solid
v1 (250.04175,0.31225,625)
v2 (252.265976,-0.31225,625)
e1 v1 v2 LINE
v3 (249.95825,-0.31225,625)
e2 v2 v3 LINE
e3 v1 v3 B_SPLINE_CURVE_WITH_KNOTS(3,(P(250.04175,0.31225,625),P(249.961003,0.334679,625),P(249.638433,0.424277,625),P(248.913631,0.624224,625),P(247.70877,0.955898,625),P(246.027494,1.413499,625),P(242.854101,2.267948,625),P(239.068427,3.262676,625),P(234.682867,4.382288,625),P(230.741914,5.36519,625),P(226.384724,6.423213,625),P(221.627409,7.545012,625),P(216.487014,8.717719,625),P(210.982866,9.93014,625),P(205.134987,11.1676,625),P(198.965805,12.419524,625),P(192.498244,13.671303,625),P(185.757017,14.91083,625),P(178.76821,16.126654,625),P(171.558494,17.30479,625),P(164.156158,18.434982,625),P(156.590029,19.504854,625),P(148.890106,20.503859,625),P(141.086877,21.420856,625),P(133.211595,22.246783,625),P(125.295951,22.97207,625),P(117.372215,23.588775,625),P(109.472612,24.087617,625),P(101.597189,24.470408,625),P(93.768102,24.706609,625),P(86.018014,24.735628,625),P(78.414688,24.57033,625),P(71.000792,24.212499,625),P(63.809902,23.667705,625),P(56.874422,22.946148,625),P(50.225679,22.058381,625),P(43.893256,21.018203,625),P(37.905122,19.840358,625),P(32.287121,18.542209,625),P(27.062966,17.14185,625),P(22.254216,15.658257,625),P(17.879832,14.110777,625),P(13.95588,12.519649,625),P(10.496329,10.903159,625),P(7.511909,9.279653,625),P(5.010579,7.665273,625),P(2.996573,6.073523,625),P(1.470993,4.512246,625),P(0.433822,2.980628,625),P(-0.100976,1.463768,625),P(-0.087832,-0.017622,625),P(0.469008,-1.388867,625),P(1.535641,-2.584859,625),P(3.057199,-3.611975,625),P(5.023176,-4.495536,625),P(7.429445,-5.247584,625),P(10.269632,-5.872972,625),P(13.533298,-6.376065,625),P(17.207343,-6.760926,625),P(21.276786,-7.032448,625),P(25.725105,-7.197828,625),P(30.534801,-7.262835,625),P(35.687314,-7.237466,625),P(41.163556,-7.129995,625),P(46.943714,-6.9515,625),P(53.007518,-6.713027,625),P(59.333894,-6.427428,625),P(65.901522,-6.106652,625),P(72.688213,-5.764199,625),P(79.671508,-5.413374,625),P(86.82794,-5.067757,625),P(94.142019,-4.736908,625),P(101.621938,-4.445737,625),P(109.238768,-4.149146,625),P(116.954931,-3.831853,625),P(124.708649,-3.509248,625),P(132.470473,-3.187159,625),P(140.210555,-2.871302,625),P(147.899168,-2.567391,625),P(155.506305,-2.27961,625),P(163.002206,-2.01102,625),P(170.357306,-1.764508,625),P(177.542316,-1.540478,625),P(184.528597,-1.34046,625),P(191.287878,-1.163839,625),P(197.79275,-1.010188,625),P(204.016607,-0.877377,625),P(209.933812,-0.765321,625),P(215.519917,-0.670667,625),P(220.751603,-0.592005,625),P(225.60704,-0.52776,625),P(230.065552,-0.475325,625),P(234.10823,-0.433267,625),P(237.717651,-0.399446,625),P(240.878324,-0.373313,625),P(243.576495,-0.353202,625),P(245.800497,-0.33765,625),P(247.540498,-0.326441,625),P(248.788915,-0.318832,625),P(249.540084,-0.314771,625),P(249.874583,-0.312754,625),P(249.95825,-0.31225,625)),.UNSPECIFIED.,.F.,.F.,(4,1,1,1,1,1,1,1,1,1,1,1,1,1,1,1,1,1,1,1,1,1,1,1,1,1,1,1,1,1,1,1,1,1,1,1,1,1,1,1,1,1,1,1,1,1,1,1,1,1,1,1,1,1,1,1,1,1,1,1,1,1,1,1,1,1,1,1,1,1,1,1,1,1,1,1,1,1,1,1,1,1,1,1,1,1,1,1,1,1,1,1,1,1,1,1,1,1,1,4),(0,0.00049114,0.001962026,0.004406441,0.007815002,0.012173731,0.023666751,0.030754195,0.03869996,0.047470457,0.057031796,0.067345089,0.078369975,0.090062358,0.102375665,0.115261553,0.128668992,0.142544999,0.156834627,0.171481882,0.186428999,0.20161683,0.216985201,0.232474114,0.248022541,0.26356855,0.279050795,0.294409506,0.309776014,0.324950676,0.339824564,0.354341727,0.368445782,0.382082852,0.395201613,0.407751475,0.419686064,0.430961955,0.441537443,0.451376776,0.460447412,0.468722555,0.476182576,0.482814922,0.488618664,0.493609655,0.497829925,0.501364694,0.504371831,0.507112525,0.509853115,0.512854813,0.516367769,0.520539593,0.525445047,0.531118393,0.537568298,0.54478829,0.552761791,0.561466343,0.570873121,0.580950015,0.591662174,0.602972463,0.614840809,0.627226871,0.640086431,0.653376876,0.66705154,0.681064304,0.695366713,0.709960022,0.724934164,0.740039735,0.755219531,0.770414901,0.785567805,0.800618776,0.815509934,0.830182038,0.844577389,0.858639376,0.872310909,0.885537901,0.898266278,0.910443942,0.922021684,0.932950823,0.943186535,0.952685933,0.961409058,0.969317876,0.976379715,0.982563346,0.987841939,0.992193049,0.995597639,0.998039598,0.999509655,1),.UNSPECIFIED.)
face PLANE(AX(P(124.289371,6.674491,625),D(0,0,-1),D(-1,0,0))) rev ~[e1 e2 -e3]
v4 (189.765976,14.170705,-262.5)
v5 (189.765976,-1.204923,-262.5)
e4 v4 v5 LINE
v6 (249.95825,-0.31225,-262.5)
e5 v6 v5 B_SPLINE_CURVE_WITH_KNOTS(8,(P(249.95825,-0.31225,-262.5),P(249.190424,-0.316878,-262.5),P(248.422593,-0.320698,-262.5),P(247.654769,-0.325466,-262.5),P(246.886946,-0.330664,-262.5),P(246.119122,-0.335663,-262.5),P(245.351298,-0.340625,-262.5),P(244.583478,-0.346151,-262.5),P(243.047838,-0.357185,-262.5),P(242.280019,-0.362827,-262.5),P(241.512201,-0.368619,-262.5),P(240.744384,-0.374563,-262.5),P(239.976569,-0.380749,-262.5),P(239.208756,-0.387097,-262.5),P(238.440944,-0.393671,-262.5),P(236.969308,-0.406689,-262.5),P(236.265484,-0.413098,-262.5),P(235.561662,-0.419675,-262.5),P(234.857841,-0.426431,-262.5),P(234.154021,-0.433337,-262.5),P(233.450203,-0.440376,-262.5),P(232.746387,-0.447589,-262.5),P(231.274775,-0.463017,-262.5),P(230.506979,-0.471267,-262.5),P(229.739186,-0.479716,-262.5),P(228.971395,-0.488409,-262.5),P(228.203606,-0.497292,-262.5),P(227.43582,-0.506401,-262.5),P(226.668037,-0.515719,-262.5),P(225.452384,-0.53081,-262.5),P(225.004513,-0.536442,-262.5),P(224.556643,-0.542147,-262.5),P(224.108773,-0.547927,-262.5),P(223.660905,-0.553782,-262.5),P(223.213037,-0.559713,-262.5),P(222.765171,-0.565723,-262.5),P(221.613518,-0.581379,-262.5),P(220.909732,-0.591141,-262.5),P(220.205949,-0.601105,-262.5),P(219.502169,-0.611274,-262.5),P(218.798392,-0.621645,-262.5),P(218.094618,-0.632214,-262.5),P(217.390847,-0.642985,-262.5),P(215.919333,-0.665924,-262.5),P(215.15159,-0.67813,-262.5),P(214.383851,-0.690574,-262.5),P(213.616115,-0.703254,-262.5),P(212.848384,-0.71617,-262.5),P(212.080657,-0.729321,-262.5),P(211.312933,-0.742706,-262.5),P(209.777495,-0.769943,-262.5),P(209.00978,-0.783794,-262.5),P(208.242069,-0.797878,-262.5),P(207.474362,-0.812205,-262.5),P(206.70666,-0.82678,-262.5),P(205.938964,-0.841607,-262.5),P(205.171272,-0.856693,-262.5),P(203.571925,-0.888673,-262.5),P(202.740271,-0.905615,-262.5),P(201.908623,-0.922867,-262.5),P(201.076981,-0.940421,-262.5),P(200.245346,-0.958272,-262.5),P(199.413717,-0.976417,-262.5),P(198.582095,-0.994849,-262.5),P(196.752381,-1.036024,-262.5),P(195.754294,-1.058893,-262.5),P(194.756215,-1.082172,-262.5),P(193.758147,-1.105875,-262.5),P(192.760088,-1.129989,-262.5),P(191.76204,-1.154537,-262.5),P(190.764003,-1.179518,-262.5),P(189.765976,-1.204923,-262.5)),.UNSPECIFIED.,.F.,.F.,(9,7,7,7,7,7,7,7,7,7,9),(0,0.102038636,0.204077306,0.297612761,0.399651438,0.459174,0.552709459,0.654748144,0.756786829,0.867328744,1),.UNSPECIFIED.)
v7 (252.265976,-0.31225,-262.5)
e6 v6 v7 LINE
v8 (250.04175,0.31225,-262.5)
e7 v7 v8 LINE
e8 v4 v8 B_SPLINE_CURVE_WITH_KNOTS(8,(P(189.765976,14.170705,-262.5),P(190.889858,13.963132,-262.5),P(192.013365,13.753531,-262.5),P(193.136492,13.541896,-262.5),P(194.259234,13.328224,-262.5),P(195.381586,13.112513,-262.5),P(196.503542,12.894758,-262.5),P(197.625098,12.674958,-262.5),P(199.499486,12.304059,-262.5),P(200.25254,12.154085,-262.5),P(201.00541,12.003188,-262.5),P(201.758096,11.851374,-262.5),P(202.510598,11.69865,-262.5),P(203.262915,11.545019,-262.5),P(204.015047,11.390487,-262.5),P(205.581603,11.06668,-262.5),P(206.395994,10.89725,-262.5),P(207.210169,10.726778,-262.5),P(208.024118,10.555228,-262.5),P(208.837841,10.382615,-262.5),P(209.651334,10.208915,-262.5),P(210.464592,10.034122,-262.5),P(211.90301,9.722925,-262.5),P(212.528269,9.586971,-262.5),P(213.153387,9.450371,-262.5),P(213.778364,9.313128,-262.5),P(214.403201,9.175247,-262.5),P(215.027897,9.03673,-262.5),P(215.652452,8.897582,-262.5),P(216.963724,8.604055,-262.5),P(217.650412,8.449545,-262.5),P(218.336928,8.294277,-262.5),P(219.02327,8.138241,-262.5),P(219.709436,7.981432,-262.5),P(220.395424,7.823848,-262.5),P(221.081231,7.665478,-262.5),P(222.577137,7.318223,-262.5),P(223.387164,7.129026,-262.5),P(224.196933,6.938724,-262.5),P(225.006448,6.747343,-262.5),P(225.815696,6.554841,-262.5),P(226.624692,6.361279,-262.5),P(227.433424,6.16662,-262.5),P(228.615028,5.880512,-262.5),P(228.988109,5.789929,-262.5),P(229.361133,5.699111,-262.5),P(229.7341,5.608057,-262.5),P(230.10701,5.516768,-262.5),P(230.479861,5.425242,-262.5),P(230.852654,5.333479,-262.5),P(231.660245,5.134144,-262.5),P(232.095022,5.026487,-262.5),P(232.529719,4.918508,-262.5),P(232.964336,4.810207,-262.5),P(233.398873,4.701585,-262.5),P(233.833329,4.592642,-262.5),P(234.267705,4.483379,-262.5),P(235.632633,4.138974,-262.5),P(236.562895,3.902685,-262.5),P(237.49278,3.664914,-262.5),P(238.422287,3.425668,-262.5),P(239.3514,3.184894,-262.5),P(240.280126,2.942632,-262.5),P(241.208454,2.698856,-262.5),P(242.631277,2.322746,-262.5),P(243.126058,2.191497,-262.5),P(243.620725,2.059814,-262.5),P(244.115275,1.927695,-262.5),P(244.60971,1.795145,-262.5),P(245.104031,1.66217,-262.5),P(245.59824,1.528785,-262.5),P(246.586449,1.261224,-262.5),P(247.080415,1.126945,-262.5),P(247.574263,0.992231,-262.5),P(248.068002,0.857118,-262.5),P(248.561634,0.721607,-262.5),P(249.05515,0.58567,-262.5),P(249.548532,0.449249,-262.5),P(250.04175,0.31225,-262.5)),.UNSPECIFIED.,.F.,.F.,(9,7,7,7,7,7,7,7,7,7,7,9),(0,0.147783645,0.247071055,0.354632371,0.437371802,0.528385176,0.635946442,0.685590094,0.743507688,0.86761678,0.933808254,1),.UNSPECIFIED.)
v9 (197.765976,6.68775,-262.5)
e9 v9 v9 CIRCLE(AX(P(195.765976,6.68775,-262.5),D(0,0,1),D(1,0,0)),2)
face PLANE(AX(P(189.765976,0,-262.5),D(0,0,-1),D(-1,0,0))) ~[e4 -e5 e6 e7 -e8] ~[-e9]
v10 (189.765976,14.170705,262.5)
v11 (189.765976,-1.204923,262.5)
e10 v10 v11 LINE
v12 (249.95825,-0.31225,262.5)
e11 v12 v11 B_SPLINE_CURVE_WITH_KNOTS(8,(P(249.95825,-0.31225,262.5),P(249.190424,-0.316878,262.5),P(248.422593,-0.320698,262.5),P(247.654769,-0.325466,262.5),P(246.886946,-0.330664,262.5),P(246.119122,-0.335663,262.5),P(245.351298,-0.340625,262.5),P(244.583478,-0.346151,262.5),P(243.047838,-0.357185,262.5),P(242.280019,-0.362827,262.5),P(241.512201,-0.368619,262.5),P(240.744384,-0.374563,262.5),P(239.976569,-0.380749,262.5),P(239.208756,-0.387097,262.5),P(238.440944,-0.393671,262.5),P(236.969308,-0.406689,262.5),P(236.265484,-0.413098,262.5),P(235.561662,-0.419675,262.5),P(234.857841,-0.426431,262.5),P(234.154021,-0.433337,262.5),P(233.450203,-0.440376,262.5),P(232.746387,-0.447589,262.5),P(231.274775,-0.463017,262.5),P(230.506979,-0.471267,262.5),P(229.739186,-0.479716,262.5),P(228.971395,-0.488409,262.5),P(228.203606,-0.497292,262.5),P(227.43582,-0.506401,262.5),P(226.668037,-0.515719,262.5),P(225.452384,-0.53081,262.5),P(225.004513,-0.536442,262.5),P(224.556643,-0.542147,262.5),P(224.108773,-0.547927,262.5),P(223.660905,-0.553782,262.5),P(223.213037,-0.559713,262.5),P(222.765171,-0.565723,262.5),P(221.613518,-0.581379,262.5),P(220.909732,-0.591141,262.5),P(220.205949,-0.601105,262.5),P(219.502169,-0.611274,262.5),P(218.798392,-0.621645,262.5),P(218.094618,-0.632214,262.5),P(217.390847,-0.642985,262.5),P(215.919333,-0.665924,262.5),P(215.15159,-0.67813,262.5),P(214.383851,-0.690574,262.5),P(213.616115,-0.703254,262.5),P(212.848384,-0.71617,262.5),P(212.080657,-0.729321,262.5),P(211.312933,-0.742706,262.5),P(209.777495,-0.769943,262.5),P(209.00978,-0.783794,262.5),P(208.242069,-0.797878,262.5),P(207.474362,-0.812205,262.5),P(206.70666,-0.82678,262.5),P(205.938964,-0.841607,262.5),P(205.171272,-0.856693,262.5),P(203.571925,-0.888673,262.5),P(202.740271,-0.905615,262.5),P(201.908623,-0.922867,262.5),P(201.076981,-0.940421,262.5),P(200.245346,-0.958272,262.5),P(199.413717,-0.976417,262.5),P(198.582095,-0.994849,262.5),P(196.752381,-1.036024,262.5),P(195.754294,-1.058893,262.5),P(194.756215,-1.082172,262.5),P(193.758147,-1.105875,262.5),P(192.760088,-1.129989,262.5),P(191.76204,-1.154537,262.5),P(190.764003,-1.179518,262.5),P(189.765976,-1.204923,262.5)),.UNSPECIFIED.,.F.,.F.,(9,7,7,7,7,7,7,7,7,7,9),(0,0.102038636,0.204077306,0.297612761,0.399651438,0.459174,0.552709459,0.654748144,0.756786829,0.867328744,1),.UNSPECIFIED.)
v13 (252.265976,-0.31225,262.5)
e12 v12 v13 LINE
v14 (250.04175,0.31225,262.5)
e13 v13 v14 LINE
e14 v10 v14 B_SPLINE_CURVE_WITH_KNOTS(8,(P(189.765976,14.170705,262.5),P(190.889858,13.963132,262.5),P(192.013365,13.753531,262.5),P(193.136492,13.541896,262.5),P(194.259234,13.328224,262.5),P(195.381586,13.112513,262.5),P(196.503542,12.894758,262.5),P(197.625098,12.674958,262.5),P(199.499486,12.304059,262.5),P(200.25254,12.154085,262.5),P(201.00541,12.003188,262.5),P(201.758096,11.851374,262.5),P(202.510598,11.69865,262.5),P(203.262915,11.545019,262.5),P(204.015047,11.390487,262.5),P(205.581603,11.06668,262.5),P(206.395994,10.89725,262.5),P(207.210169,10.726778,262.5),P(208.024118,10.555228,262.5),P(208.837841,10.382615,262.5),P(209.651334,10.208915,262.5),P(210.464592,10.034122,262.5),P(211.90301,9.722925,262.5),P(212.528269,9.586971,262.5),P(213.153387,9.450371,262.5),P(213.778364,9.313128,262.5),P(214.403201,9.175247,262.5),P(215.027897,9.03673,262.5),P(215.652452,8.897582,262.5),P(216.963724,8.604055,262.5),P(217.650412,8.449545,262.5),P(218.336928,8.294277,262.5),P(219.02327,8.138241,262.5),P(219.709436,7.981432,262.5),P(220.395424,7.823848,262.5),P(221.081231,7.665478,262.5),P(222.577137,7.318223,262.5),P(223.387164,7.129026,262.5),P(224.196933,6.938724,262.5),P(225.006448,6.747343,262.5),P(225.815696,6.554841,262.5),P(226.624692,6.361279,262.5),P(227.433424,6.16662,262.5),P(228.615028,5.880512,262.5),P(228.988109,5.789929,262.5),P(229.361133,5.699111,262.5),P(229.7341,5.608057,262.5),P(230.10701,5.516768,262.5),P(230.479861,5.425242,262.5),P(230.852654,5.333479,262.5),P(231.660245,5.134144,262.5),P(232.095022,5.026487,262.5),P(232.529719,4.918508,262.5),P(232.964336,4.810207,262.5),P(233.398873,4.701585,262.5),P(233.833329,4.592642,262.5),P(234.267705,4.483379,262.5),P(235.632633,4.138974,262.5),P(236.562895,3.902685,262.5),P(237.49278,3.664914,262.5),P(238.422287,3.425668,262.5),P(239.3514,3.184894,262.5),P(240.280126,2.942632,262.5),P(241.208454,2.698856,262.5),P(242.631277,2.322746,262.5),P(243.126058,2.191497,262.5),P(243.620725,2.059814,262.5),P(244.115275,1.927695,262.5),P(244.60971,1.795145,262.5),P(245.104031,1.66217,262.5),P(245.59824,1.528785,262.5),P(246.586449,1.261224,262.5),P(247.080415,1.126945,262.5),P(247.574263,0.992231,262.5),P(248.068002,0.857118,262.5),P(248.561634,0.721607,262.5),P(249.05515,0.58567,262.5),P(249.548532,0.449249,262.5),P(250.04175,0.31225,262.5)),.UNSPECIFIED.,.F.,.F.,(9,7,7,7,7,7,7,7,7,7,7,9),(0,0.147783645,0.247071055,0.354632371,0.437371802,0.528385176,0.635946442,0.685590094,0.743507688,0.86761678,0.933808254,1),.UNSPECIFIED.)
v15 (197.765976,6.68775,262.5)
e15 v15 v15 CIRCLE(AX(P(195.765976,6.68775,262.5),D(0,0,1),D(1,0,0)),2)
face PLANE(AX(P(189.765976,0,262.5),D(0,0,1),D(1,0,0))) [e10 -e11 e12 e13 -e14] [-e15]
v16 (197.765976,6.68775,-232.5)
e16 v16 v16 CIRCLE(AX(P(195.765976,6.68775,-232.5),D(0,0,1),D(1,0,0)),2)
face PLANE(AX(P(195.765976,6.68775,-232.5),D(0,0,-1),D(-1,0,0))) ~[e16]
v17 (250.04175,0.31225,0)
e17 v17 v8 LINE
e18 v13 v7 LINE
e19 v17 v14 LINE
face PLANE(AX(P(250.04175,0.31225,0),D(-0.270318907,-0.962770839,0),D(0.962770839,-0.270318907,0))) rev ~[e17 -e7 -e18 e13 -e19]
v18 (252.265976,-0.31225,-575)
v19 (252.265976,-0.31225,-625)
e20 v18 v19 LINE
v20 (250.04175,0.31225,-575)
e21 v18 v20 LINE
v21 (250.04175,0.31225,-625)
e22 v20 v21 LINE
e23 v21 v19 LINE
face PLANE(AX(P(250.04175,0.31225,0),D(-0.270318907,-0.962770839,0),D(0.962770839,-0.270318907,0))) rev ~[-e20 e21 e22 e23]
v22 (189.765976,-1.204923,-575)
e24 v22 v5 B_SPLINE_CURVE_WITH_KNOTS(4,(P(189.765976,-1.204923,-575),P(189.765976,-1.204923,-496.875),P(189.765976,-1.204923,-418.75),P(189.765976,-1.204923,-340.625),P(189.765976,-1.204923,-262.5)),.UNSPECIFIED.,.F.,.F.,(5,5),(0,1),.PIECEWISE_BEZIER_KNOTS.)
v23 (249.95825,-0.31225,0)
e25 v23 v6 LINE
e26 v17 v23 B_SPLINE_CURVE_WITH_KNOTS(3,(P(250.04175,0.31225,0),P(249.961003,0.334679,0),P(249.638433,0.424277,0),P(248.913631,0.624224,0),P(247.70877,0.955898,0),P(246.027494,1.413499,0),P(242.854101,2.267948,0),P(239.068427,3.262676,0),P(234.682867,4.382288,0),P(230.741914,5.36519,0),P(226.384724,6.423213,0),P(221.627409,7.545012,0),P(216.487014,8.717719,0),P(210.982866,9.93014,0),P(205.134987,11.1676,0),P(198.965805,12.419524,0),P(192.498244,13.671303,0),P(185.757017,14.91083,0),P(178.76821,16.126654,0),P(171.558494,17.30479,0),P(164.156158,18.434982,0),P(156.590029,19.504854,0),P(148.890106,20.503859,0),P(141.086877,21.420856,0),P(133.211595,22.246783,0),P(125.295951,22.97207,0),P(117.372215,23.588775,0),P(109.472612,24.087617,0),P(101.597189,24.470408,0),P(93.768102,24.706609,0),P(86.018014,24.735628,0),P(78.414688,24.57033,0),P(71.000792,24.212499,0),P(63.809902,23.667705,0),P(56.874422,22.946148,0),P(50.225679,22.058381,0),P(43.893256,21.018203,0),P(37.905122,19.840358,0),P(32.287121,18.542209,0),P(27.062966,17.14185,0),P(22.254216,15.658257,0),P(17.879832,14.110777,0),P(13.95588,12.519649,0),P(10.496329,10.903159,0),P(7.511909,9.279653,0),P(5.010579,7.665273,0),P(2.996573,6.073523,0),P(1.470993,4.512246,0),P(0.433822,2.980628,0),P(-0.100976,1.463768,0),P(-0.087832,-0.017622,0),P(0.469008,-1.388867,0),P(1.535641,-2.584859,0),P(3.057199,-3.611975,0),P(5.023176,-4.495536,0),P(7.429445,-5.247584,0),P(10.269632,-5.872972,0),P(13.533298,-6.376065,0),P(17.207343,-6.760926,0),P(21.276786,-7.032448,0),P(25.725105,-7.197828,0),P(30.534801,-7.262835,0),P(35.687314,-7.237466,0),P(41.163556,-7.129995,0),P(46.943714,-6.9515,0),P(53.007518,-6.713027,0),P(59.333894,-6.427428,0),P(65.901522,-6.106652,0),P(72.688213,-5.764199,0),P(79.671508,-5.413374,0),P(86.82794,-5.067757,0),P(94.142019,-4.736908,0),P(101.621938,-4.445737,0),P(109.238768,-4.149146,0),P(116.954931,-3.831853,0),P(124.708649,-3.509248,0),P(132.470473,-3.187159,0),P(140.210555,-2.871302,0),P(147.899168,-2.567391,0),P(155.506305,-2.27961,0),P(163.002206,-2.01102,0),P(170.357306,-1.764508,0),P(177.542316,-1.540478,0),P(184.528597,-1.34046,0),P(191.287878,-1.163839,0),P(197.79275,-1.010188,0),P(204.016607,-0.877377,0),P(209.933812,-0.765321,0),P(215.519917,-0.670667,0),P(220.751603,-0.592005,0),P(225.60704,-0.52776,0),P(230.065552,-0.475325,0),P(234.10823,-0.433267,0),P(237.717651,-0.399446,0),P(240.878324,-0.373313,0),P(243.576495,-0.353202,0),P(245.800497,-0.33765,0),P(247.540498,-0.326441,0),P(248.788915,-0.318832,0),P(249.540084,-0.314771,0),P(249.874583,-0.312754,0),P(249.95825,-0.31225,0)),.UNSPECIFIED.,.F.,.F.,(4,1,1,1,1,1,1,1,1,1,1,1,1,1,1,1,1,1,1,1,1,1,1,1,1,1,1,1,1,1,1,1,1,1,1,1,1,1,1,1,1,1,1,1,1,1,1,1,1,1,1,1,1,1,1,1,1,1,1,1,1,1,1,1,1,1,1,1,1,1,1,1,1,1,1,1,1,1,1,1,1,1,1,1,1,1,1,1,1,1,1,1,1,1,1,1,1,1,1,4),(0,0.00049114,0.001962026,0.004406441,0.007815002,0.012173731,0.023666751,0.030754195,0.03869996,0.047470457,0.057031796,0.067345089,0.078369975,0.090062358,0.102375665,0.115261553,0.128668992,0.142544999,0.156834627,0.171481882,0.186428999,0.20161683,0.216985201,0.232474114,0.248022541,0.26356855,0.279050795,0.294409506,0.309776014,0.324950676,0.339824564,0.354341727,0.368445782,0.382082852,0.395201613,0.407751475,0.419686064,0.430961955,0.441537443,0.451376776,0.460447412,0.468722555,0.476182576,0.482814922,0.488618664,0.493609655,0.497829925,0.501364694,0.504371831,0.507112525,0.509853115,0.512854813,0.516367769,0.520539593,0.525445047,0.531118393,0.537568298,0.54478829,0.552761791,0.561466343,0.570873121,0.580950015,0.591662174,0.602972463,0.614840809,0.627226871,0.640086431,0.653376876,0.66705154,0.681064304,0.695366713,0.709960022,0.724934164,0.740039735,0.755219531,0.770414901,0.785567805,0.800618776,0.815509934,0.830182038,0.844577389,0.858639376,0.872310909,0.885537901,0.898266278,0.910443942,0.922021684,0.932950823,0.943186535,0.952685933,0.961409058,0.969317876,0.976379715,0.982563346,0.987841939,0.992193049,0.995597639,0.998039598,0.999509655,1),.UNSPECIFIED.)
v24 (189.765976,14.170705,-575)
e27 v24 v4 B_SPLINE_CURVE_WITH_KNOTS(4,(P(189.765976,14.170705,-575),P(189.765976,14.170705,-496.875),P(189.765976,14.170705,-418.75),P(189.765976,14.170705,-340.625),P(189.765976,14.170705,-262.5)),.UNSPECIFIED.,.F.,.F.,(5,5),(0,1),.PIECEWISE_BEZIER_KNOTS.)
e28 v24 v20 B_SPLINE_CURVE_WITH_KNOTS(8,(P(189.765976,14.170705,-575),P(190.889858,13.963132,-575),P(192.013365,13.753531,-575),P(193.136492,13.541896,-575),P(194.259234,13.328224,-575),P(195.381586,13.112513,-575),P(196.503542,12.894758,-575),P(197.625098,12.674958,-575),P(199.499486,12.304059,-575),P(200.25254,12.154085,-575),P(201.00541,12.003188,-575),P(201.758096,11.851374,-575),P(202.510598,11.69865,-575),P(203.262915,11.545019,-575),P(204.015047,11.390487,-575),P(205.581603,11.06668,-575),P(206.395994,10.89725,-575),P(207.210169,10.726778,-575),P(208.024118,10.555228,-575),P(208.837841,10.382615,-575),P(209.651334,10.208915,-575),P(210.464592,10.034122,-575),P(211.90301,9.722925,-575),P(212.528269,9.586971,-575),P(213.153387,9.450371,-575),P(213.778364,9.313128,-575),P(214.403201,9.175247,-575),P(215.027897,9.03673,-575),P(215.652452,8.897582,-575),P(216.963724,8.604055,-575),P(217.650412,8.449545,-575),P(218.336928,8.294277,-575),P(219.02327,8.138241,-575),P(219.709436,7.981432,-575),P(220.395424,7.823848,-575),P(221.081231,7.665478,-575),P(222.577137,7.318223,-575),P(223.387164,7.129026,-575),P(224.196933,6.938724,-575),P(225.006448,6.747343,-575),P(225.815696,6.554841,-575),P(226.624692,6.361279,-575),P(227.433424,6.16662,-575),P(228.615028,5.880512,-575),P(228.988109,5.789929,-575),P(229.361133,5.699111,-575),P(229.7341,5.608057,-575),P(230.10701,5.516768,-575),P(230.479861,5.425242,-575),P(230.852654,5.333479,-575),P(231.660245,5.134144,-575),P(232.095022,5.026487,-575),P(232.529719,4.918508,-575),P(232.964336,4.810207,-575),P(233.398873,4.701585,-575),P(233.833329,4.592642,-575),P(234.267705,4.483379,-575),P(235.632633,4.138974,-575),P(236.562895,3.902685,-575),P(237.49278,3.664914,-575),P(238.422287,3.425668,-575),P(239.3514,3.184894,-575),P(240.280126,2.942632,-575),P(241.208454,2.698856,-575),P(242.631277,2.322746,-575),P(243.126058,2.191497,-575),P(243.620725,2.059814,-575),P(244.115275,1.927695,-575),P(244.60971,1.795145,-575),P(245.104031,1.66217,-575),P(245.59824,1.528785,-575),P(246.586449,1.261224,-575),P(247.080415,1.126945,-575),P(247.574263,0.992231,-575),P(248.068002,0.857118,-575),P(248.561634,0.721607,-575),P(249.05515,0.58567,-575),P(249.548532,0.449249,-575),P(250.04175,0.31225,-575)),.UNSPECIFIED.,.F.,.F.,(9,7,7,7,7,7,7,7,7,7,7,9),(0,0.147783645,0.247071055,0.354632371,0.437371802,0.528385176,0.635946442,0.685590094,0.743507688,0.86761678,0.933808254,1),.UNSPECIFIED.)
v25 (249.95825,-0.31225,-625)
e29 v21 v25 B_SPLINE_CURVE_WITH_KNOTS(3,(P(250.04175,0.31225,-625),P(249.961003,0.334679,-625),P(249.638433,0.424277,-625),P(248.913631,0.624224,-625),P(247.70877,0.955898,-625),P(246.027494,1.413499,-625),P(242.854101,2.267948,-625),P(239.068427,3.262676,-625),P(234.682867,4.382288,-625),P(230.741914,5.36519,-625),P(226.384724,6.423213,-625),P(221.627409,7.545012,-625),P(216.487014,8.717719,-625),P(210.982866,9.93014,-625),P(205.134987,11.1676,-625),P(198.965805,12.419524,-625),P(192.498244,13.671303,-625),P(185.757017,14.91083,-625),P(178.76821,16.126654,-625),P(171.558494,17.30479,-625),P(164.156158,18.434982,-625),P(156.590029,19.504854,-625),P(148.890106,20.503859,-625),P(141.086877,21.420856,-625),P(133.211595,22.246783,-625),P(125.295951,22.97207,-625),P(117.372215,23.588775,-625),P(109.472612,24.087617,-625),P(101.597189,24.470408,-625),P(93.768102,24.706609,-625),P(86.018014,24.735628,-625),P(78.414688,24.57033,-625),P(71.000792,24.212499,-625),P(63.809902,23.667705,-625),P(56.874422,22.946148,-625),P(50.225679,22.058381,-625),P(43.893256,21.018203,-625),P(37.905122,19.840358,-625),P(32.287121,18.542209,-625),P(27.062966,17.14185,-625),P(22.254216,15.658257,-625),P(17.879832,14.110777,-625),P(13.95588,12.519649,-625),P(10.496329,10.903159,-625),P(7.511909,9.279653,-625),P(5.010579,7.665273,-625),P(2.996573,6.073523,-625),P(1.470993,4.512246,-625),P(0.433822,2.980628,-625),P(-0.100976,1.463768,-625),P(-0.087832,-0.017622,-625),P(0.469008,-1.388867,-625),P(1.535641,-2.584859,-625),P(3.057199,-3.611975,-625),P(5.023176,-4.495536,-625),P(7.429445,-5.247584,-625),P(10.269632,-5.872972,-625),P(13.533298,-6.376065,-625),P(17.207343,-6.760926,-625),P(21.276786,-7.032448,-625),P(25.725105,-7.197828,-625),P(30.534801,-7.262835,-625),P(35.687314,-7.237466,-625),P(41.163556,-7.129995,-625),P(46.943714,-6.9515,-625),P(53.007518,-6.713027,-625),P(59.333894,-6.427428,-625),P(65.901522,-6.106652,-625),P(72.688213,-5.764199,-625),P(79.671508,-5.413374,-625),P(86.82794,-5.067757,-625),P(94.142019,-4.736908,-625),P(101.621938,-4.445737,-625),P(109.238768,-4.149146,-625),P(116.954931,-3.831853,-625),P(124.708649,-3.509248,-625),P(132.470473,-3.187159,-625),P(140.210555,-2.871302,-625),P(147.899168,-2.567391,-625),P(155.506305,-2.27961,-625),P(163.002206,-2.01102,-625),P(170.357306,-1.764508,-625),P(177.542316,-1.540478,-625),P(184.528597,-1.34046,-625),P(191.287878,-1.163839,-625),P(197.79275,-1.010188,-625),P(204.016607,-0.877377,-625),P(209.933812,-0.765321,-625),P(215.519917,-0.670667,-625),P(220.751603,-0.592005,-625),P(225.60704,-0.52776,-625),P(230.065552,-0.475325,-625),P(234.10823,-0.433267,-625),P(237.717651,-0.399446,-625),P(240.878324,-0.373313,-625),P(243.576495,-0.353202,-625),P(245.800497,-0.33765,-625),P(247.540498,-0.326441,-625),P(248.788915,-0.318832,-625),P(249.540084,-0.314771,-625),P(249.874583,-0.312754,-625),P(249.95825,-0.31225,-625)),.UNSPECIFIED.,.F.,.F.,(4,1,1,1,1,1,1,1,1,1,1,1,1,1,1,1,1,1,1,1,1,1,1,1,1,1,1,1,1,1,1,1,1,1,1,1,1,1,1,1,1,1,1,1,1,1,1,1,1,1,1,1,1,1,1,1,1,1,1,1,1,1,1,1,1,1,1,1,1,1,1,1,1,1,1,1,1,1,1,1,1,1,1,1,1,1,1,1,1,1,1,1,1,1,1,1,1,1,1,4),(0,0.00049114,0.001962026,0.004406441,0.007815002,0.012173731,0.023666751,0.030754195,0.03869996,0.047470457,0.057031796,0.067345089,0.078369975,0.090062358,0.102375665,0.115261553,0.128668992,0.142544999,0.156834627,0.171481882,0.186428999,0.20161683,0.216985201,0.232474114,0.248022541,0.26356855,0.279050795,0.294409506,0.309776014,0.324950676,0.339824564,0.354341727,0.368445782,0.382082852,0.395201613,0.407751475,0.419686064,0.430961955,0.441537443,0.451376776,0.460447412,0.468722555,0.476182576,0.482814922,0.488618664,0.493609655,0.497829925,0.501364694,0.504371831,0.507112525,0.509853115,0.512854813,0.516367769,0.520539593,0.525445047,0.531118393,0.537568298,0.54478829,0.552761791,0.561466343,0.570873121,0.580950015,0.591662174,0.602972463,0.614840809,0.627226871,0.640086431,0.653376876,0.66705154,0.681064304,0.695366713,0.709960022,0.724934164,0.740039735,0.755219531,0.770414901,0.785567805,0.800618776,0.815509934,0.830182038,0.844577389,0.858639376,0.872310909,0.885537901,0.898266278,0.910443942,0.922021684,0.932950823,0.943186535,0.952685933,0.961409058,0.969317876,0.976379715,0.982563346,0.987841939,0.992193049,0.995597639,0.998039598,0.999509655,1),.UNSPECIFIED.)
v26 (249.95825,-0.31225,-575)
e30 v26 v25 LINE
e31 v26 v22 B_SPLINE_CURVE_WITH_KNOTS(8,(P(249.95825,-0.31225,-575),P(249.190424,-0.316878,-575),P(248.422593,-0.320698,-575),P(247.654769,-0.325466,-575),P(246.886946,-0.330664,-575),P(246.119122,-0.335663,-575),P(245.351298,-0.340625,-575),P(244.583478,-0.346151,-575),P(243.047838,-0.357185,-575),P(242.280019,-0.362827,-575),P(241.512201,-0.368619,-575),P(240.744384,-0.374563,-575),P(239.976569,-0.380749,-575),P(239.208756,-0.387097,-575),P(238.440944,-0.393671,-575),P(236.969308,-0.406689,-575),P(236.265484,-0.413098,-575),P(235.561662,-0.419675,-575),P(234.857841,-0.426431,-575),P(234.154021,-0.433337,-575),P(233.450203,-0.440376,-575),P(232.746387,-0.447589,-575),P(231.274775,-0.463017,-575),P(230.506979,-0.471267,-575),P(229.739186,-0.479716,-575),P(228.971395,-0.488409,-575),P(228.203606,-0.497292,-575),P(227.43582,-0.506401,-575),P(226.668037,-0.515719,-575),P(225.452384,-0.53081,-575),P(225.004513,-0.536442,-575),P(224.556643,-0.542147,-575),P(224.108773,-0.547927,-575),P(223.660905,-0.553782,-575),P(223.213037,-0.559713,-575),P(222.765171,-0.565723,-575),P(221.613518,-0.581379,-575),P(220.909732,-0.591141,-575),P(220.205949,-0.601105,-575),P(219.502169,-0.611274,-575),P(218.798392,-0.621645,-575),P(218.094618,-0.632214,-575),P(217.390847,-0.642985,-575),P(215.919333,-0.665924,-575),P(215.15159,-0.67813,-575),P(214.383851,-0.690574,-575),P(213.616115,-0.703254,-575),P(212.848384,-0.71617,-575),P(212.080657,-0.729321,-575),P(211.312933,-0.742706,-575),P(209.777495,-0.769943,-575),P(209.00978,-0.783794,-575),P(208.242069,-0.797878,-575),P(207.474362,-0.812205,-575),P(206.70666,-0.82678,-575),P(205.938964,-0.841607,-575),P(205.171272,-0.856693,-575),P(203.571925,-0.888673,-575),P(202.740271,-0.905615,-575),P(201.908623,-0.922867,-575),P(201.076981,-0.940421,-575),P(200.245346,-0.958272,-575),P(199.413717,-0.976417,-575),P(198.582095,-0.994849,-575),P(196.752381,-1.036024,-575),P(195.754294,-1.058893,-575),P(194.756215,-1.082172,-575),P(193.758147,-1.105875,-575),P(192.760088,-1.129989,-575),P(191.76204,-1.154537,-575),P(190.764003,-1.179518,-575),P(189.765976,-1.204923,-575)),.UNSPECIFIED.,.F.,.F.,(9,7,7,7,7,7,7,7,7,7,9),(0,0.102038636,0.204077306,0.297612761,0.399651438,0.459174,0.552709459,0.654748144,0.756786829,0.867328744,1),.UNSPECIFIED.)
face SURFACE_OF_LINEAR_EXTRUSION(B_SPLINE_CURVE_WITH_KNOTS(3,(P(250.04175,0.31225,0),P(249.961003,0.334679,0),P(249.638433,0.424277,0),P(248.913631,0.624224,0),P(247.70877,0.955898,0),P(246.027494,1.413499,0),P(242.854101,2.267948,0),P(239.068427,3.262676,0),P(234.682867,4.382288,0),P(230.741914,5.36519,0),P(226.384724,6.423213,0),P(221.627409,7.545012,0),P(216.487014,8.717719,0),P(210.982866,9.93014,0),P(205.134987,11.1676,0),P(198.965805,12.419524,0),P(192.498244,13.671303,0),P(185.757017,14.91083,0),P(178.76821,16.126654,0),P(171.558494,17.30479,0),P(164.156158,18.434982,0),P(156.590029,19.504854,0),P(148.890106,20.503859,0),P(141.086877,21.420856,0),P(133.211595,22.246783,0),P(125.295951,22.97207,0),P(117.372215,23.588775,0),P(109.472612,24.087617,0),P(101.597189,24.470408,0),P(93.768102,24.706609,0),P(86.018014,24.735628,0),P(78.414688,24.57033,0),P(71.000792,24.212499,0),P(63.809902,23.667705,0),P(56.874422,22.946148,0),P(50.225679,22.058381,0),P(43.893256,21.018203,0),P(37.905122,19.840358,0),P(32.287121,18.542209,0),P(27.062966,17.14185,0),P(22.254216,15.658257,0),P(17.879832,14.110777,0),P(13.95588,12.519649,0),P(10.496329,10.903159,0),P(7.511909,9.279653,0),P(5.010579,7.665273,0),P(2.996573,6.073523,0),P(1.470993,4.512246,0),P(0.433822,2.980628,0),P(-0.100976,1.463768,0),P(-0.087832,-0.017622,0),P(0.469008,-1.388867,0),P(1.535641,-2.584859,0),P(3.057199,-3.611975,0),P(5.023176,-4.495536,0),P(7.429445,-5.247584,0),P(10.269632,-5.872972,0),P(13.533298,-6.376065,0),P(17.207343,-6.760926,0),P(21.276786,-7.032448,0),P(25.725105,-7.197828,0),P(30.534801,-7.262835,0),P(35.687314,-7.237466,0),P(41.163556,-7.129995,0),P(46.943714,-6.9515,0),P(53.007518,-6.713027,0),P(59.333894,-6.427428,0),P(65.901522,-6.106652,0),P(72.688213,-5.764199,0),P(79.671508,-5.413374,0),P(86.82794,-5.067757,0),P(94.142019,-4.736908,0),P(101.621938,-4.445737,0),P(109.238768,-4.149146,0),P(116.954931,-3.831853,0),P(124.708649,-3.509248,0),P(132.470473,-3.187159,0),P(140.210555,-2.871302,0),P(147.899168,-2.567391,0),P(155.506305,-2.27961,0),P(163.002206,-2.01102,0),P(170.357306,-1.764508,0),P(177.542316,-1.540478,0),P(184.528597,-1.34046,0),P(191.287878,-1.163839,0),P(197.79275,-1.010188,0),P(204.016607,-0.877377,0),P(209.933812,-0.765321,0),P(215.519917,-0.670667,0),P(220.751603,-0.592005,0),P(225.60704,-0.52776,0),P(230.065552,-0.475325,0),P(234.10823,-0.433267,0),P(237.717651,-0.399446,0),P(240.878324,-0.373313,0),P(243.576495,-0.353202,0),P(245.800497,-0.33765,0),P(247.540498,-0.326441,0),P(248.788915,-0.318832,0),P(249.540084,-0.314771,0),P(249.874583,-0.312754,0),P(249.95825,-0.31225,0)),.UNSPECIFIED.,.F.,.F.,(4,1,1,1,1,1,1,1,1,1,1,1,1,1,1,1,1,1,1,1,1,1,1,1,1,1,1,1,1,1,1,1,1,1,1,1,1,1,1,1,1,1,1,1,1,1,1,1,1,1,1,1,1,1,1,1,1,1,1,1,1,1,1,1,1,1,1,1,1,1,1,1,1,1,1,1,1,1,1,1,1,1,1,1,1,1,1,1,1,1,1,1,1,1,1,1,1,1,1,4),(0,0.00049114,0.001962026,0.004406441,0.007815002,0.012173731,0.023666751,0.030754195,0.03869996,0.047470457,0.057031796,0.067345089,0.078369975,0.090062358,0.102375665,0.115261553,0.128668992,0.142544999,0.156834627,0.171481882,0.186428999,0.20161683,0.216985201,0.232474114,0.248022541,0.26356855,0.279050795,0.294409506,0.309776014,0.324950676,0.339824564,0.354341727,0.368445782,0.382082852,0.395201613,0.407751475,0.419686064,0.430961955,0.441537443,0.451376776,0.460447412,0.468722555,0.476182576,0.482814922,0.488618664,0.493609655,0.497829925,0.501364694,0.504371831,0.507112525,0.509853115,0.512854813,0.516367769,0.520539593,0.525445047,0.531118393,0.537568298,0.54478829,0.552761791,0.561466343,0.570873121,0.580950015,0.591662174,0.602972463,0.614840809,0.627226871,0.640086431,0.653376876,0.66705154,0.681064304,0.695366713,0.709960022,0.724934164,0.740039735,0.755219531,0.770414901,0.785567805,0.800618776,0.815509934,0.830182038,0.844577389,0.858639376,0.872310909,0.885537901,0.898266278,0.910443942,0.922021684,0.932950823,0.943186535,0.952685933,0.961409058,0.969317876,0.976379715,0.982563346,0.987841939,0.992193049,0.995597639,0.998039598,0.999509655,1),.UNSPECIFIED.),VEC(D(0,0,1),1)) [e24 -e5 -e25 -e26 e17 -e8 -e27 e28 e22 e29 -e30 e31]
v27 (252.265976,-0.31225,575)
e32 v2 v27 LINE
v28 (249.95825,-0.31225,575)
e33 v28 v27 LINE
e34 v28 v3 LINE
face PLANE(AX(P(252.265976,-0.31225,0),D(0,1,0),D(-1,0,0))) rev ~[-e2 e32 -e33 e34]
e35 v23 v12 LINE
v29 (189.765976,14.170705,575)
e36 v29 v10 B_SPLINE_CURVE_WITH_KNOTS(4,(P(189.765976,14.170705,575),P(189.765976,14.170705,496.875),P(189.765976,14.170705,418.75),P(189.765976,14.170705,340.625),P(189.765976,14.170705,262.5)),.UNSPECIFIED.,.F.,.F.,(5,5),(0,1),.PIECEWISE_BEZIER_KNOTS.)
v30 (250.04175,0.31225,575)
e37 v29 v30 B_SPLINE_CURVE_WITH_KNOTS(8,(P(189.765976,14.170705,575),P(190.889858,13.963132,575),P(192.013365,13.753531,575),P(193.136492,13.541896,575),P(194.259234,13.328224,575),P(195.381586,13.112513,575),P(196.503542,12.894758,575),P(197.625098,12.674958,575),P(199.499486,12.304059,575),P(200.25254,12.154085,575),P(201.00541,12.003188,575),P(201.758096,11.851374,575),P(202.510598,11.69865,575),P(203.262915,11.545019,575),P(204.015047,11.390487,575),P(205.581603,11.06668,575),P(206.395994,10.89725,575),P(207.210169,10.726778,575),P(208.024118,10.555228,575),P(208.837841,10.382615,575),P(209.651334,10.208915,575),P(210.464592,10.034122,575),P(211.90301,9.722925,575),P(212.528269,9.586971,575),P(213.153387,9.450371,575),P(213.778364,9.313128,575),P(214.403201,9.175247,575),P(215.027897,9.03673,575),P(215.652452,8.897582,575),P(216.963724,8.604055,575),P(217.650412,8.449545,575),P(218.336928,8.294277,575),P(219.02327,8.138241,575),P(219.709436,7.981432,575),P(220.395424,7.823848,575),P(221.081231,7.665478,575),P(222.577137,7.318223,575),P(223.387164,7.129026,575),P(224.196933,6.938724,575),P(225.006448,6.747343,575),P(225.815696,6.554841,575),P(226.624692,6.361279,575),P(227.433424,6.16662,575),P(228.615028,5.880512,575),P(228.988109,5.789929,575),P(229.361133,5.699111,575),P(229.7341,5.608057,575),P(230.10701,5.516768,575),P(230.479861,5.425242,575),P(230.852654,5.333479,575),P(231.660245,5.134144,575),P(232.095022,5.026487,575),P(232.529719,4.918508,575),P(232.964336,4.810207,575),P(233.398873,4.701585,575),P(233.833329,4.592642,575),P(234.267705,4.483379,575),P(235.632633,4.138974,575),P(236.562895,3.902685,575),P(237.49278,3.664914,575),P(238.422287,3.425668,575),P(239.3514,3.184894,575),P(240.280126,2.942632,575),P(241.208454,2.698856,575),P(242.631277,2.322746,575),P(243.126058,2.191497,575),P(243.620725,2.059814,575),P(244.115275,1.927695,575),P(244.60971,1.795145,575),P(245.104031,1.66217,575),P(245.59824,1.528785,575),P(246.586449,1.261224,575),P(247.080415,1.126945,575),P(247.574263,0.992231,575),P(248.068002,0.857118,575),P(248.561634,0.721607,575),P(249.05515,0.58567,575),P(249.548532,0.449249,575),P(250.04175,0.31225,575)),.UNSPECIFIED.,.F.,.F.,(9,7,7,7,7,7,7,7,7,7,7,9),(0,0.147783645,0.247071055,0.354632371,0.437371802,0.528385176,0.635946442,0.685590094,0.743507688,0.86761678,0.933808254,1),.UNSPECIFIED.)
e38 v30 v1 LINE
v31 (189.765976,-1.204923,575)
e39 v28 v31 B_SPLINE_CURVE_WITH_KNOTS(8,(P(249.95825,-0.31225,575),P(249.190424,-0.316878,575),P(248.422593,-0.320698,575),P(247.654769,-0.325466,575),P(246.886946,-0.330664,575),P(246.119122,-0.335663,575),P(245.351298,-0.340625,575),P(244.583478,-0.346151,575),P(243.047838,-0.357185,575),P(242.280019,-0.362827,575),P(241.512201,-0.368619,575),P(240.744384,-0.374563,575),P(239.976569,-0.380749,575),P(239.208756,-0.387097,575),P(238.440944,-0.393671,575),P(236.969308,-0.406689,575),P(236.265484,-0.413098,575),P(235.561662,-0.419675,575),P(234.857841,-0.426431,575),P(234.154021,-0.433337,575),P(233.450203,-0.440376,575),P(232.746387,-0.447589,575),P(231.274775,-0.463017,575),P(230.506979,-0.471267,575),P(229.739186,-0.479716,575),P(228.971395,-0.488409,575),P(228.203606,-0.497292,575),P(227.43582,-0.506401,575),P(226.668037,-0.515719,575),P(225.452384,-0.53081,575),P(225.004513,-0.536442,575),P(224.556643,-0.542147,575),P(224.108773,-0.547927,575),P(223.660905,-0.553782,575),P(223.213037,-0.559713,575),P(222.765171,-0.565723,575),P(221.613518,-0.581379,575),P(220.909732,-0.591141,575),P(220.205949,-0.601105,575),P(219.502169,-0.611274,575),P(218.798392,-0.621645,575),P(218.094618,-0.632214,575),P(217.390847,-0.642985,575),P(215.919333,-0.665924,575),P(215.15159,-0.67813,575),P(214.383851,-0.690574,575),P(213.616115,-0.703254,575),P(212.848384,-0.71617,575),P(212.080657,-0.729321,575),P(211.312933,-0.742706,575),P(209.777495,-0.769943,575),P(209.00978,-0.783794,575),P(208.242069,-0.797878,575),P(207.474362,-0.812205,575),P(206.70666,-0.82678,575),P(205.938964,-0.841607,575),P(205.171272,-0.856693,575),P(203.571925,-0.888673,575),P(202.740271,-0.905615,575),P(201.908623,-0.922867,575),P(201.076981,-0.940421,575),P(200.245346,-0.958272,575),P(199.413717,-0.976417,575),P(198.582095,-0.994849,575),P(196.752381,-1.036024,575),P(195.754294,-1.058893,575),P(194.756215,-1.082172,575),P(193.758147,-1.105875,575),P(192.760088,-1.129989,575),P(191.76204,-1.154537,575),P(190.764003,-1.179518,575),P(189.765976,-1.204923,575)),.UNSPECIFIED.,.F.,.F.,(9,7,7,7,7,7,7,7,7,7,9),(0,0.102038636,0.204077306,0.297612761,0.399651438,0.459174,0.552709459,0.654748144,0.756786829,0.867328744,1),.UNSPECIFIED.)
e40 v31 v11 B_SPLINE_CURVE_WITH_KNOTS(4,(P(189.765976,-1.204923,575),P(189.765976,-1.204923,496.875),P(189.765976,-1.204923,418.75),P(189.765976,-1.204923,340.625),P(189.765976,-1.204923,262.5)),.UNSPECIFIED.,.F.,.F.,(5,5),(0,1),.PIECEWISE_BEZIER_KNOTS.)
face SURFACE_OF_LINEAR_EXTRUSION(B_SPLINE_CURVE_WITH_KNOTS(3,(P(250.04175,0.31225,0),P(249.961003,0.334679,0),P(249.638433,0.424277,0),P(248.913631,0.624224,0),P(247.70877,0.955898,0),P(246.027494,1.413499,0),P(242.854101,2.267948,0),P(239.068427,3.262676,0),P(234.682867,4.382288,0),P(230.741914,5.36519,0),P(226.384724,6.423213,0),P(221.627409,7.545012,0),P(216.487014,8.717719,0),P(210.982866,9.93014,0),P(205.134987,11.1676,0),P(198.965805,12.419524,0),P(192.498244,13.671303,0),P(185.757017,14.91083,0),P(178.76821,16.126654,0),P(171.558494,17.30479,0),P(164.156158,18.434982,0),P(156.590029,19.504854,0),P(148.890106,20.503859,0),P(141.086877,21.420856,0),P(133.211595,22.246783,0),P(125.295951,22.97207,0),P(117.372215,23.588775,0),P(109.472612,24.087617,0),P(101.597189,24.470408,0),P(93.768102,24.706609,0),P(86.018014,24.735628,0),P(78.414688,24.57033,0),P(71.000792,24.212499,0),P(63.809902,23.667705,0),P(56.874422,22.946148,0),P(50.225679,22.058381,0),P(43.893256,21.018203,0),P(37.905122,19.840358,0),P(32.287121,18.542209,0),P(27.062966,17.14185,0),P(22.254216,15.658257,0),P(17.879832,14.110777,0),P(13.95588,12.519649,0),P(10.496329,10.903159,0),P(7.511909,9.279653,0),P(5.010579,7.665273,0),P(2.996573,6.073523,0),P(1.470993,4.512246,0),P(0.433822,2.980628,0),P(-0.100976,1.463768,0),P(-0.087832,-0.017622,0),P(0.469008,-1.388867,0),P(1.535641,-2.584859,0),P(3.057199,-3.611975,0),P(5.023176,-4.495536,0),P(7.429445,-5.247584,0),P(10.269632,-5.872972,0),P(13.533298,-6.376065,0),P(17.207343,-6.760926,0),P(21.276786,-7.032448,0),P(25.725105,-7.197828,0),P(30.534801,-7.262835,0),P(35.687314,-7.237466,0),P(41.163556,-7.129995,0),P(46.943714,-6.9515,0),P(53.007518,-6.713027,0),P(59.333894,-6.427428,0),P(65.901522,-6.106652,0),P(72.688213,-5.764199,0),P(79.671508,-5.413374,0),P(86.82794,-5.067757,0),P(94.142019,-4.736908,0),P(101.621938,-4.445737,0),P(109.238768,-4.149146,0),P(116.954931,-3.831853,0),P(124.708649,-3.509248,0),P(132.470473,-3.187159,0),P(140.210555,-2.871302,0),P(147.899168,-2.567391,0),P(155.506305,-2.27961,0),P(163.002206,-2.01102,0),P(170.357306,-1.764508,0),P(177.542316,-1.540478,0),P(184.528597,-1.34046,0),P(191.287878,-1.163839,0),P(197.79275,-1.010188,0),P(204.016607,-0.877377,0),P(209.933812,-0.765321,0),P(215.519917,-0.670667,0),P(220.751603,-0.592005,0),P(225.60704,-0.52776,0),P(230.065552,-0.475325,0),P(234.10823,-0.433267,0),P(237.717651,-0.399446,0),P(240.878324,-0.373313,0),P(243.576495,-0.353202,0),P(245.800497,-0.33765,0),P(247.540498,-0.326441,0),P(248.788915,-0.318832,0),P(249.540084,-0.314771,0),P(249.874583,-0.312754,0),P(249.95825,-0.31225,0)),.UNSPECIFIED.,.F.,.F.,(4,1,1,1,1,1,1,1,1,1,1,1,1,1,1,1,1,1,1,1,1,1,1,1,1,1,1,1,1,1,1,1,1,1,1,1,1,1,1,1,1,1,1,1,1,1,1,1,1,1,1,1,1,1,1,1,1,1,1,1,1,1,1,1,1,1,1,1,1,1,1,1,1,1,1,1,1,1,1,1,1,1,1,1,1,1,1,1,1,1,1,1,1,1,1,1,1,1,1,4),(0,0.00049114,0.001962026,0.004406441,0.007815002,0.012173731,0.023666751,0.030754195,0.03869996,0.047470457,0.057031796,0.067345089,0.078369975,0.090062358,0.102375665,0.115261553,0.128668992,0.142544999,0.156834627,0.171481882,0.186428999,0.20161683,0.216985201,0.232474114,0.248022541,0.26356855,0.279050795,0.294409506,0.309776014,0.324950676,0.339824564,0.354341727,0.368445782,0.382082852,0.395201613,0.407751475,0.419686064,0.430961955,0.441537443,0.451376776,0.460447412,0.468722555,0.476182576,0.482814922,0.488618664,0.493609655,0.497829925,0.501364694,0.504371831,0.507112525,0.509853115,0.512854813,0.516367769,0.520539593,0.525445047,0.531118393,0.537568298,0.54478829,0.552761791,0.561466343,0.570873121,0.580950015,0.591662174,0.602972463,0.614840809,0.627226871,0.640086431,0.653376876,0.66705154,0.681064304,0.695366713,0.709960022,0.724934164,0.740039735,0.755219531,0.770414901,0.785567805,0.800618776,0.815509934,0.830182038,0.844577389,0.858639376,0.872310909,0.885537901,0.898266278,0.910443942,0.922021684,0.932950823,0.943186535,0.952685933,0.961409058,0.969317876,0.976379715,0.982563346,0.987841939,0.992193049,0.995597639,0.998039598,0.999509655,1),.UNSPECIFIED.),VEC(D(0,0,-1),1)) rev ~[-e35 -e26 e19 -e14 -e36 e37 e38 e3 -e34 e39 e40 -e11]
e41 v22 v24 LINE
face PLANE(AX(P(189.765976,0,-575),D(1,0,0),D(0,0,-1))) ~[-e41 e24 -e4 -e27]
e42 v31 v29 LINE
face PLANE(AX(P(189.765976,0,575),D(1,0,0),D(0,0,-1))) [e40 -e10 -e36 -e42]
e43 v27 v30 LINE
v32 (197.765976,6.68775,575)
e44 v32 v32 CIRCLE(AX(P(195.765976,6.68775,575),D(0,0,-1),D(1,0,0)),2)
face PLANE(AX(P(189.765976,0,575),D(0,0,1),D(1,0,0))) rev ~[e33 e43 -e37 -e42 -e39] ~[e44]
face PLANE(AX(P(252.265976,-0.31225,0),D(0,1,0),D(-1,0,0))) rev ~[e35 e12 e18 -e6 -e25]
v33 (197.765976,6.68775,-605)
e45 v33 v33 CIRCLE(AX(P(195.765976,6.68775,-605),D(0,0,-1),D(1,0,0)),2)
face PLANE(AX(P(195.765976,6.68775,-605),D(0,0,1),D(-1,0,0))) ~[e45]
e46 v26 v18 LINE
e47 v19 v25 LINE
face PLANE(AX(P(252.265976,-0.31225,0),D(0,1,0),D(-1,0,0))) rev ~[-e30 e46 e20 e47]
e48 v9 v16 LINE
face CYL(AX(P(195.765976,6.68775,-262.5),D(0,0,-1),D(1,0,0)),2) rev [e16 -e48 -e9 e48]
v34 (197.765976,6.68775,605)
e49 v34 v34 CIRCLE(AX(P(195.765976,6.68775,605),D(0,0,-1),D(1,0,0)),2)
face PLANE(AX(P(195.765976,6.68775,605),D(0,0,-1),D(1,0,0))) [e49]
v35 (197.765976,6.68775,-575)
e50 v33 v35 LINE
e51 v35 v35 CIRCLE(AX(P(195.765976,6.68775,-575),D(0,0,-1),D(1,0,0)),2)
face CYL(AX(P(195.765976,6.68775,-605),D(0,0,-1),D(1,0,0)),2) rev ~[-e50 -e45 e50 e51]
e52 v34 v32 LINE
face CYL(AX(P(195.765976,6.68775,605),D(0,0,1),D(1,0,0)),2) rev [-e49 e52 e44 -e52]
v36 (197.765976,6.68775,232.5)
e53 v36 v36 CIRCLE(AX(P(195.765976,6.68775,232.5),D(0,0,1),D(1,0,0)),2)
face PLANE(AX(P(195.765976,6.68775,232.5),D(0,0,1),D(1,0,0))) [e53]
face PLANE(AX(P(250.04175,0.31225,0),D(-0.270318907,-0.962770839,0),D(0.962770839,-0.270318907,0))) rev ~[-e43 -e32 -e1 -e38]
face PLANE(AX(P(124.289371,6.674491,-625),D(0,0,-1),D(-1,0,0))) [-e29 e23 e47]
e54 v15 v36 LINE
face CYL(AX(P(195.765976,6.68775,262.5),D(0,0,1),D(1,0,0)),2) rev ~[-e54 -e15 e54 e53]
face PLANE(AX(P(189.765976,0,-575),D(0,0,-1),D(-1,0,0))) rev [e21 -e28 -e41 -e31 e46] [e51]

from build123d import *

# Parameters (mm, degrees)
BOSS_EXTRUDE1_DEPTH = 625
SKETCH2_W           = 62.5
SKETCH2_H           = 312.5
CUT_EXTRUDE1_DEPTH  = 675.443441489
SKETCH3_R           = 2
CUT_EXTRUDE2_DEPTH  = 30
CUT_EXTRUDE3_START  = -30
SKETCH4_R           = 2
CUT_EXTRUDE3_DEPTH  = 30


with BuildPart() as part:
    # Sketch1 → Boss-Extrude1 (new, symmetric)
    with BuildSketch(Plane.XY):
        with BuildLine():
            Line((250.04175, 0.31225), (252.265976181, -0.31225))
            Line((252.265976181, -0.31225), (249.95825, -0.31225))
            add(Edge.make_bspline(
                [(250.04175, 0.31225), (249.961003294, 0.334678558), (249.638433142, 0.424277052), (248.913630653, 0.624224417), (247.70876976, 0.955898409), (246.027493874, 1.413498532), (242.854101, 2.267948459), (239.068427279, 3.26267574), (234.682867149, 4.382287709), (230.741914115, 5.365189851), (226.38472416, 6.423213472), (221.627408788, 7.54501227), (216.487014456, 8.717718539), (210.982866052, 9.93013961), (205.134986611, 11.167599801), (198.965805067, 12.419523731), (192.498244433, 13.671302545), (185.757017198, 14.910830435), (178.768209981, 16.126653759), (171.558494234, 17.304790396), (164.156158366, 18.434981928), (156.590028524, 19.50485426), (148.890105577, 20.503858758), (141.086876898, 21.420856356), (133.211595312, 22.246783019), (125.295950784, 22.972070238), (117.372214656, 23.588774505), (109.472612316, 24.087616791), (101.597189103, 24.470407547), (93.768102422, 24.706608936), (86.018013855, 24.735628393), (78.4146885, 24.570329618), (71.000792285, 24.212499265), (63.809901877, 23.667705477), (56.874421802, 22.946148233), (50.225679474, 22.058380539), (43.893256226, 21.018203344), (37.905121679, 19.84035845), (32.287121097, 18.542209478), (27.062965572, 17.141849917), (22.254215959, 15.65825688), (17.879832416, 14.110777474), (13.955880211, 12.519648903), (10.496329385, 10.903159071), (7.511909249, 9.279653183), (5.010579107, 7.665272851), (2.996572739, 6.073523209), (1.470992765, 4.512245964), (0.433822111, 2.980628151), (-0.100976133, 1.463768075), (-0.087832316, -0.017621755), (0.469008038, -1.388866501), (1.53564055, -2.584859073), (3.057198898, -3.611975434), (5.023175998, -4.495536343), (7.429444849, -5.247584229), (10.269631678, -5.872972262), (13.533298286, -6.376065484), (17.207342678, -6.760926379), (21.276785933, -7.032448314), (25.725104739, -7.197828199), (30.534800779, -7.262834568), (35.687313616, -7.237466484), (41.163556019, -7.129994752), (46.943713537, -6.951500376), (53.007518466, -6.71302723), (59.333893652, -6.427427609), (65.901522492, -6.106652309), (72.688213468, -5.764199174), (79.671508058, -5.413374234), (86.827940266, -5.067757165), (94.142018966, -4.736908084), (101.621937783, -4.445736635), (109.238768021, -4.149145854), (116.954931472, -3.831852682), (124.708648979, -3.509247566), (132.47047333, -3.187158693), (140.210554571, -2.871302237), (147.899167526, -2.567391246), (155.506304968, -2.279609985), (163.002205998, -2.011019826), (170.357305924, -1.764507805), (177.542316018, -1.540478167), (184.528597215, -1.340459915), (191.287878299, -1.163839048), (197.792750381, -1.010188217), (204.016606552, -0.877377107), (209.93381186, -0.765321433), (215.519917328, -0.670667052), (220.751603169, -0.592005122), (225.607039712, -0.527759873), (230.065551846, -0.47532464), (234.108229565, -0.43326684), (237.717650747, -0.399446242), (240.878324021, -0.373313142), (243.576495431, -0.353202102), (245.800496536, -0.337649969), (247.540498054, -0.326440718), (248.788915206, -0.318831588), (249.540083938, -0.31477068), (249.874583358, -0.312754337), (249.95825, -0.31225)],
                knots=[0, 0, 0, 0, 0.00049114, 0.001962026, 0.004406441, 0.007815002, 0.012173731, 0.023666751, 0.030754195, 0.03869996, 0.047470457, 0.057031796, 0.067345089, 0.078369975, 0.090062358, 0.102375665, 0.115261553, 0.128668992, 0.142544999, 0.156834627, 0.171481882, 0.186428999, 0.20161683, 0.216985201, 0.232474114, 0.248022541, 0.26356855, 0.279050795, 0.294409506, 0.309776014, 0.324950676, 0.339824564, 0.354341727, 0.368445782, 0.382082852, 0.395201613, 0.407751475, 0.419686064, 0.430961955, 0.441537443, 0.451376776, 0.460447412, 0.468722555, 0.476182576, 0.482814922, 0.488618664, 0.493609655, 0.497829925, 0.501364694, 0.504371831, 0.507112525, 0.509853115, 0.512854813, 0.516367769, 0.520539593, 0.525445047, 0.531118393, 0.537568298, 0.54478829, 0.552761791, 0.561466343, 0.570873121, 0.580950015, 0.591662174, 0.602972463, 0.614840809, 0.627226871, 0.640086431, 0.653376876, 0.66705154, 0.681064304, 0.695366713, 0.709960022, 0.724934164, 0.740039735, 0.755219531, 0.770414901, 0.785567805, 0.800618776, 0.815509934, 0.830182038, 0.844577389, 0.858639376, 0.872310909, 0.885537901, 0.898266278, 0.910443942, 0.922021684, 0.932950823, 0.943186535, 0.952685933, 0.961409058, 0.969317876, 0.976379715, 0.982563346, 0.987841939, 0.992193049, 0.995597639, 0.998039598, 0.999509655, 1, 1, 1, 1], degree=3))
        make_face()
    extrude(amount=BOSS_EXTRUDE1_DEPTH, both=True)

    # Sketch2 → Cut-Extrude1 (cut, symmetric)
    with BuildSketch(Plane(origin=(0, 0, 0), x_dir=(1, 0, 0), z_dir=(0, 1, 0))):
        with Locations((221.015976181, -418.75)):
            Rectangle(SKETCH2_W, SKETCH2_H)
    cut_extrude1 = extrude(amount=CUT_EXTRUDE1_DEPTH, both=True, mode=Mode.SUBTRACT)

    # Sketch3 → Cut-Extrude2 (cut)
    with BuildSketch(Plane.XY.offset(262.5)):
        with Locations((195.765976181, 6.68775)):
            Circle(SKETCH3_R)
    cut_extrude2 = extrude(amount=-CUT_EXTRUDE2_DEPTH, mode=Mode.SUBTRACT)

    # Sketch4 → Cut-Extrude3 (cut)
    with BuildSketch(Plane(origin=(0, 0, 575), x_dir=(-1, 0, 0), z_dir=(0, 0, -1)).offset(CUT_EXTRUDE3_START)):
        with Locations(Location((-195.765976181, 6.68775, 0), (0, 0, 180))):
            Circle(SKETCH4_R)
    cut_extrude3 = extrude(amount=CUT_EXTRUDE3_DEPTH, mode=Mode.SUBTRACT)

    # Mirror1: Cut-Extrude1, Cut-Extrude2, Cut-Extrude3 across plane
    add(cut_extrude1.mirror(Plane.XY), mode=Mode.SUBTRACT)
    add(cut_extrude2.mirror(Plane.XY), mode=Mode.SUBTRACT)
    add(cut_extrude3.mirror(Plane.XY), mode=Mode.SUBTRACT)


solid = part.part
